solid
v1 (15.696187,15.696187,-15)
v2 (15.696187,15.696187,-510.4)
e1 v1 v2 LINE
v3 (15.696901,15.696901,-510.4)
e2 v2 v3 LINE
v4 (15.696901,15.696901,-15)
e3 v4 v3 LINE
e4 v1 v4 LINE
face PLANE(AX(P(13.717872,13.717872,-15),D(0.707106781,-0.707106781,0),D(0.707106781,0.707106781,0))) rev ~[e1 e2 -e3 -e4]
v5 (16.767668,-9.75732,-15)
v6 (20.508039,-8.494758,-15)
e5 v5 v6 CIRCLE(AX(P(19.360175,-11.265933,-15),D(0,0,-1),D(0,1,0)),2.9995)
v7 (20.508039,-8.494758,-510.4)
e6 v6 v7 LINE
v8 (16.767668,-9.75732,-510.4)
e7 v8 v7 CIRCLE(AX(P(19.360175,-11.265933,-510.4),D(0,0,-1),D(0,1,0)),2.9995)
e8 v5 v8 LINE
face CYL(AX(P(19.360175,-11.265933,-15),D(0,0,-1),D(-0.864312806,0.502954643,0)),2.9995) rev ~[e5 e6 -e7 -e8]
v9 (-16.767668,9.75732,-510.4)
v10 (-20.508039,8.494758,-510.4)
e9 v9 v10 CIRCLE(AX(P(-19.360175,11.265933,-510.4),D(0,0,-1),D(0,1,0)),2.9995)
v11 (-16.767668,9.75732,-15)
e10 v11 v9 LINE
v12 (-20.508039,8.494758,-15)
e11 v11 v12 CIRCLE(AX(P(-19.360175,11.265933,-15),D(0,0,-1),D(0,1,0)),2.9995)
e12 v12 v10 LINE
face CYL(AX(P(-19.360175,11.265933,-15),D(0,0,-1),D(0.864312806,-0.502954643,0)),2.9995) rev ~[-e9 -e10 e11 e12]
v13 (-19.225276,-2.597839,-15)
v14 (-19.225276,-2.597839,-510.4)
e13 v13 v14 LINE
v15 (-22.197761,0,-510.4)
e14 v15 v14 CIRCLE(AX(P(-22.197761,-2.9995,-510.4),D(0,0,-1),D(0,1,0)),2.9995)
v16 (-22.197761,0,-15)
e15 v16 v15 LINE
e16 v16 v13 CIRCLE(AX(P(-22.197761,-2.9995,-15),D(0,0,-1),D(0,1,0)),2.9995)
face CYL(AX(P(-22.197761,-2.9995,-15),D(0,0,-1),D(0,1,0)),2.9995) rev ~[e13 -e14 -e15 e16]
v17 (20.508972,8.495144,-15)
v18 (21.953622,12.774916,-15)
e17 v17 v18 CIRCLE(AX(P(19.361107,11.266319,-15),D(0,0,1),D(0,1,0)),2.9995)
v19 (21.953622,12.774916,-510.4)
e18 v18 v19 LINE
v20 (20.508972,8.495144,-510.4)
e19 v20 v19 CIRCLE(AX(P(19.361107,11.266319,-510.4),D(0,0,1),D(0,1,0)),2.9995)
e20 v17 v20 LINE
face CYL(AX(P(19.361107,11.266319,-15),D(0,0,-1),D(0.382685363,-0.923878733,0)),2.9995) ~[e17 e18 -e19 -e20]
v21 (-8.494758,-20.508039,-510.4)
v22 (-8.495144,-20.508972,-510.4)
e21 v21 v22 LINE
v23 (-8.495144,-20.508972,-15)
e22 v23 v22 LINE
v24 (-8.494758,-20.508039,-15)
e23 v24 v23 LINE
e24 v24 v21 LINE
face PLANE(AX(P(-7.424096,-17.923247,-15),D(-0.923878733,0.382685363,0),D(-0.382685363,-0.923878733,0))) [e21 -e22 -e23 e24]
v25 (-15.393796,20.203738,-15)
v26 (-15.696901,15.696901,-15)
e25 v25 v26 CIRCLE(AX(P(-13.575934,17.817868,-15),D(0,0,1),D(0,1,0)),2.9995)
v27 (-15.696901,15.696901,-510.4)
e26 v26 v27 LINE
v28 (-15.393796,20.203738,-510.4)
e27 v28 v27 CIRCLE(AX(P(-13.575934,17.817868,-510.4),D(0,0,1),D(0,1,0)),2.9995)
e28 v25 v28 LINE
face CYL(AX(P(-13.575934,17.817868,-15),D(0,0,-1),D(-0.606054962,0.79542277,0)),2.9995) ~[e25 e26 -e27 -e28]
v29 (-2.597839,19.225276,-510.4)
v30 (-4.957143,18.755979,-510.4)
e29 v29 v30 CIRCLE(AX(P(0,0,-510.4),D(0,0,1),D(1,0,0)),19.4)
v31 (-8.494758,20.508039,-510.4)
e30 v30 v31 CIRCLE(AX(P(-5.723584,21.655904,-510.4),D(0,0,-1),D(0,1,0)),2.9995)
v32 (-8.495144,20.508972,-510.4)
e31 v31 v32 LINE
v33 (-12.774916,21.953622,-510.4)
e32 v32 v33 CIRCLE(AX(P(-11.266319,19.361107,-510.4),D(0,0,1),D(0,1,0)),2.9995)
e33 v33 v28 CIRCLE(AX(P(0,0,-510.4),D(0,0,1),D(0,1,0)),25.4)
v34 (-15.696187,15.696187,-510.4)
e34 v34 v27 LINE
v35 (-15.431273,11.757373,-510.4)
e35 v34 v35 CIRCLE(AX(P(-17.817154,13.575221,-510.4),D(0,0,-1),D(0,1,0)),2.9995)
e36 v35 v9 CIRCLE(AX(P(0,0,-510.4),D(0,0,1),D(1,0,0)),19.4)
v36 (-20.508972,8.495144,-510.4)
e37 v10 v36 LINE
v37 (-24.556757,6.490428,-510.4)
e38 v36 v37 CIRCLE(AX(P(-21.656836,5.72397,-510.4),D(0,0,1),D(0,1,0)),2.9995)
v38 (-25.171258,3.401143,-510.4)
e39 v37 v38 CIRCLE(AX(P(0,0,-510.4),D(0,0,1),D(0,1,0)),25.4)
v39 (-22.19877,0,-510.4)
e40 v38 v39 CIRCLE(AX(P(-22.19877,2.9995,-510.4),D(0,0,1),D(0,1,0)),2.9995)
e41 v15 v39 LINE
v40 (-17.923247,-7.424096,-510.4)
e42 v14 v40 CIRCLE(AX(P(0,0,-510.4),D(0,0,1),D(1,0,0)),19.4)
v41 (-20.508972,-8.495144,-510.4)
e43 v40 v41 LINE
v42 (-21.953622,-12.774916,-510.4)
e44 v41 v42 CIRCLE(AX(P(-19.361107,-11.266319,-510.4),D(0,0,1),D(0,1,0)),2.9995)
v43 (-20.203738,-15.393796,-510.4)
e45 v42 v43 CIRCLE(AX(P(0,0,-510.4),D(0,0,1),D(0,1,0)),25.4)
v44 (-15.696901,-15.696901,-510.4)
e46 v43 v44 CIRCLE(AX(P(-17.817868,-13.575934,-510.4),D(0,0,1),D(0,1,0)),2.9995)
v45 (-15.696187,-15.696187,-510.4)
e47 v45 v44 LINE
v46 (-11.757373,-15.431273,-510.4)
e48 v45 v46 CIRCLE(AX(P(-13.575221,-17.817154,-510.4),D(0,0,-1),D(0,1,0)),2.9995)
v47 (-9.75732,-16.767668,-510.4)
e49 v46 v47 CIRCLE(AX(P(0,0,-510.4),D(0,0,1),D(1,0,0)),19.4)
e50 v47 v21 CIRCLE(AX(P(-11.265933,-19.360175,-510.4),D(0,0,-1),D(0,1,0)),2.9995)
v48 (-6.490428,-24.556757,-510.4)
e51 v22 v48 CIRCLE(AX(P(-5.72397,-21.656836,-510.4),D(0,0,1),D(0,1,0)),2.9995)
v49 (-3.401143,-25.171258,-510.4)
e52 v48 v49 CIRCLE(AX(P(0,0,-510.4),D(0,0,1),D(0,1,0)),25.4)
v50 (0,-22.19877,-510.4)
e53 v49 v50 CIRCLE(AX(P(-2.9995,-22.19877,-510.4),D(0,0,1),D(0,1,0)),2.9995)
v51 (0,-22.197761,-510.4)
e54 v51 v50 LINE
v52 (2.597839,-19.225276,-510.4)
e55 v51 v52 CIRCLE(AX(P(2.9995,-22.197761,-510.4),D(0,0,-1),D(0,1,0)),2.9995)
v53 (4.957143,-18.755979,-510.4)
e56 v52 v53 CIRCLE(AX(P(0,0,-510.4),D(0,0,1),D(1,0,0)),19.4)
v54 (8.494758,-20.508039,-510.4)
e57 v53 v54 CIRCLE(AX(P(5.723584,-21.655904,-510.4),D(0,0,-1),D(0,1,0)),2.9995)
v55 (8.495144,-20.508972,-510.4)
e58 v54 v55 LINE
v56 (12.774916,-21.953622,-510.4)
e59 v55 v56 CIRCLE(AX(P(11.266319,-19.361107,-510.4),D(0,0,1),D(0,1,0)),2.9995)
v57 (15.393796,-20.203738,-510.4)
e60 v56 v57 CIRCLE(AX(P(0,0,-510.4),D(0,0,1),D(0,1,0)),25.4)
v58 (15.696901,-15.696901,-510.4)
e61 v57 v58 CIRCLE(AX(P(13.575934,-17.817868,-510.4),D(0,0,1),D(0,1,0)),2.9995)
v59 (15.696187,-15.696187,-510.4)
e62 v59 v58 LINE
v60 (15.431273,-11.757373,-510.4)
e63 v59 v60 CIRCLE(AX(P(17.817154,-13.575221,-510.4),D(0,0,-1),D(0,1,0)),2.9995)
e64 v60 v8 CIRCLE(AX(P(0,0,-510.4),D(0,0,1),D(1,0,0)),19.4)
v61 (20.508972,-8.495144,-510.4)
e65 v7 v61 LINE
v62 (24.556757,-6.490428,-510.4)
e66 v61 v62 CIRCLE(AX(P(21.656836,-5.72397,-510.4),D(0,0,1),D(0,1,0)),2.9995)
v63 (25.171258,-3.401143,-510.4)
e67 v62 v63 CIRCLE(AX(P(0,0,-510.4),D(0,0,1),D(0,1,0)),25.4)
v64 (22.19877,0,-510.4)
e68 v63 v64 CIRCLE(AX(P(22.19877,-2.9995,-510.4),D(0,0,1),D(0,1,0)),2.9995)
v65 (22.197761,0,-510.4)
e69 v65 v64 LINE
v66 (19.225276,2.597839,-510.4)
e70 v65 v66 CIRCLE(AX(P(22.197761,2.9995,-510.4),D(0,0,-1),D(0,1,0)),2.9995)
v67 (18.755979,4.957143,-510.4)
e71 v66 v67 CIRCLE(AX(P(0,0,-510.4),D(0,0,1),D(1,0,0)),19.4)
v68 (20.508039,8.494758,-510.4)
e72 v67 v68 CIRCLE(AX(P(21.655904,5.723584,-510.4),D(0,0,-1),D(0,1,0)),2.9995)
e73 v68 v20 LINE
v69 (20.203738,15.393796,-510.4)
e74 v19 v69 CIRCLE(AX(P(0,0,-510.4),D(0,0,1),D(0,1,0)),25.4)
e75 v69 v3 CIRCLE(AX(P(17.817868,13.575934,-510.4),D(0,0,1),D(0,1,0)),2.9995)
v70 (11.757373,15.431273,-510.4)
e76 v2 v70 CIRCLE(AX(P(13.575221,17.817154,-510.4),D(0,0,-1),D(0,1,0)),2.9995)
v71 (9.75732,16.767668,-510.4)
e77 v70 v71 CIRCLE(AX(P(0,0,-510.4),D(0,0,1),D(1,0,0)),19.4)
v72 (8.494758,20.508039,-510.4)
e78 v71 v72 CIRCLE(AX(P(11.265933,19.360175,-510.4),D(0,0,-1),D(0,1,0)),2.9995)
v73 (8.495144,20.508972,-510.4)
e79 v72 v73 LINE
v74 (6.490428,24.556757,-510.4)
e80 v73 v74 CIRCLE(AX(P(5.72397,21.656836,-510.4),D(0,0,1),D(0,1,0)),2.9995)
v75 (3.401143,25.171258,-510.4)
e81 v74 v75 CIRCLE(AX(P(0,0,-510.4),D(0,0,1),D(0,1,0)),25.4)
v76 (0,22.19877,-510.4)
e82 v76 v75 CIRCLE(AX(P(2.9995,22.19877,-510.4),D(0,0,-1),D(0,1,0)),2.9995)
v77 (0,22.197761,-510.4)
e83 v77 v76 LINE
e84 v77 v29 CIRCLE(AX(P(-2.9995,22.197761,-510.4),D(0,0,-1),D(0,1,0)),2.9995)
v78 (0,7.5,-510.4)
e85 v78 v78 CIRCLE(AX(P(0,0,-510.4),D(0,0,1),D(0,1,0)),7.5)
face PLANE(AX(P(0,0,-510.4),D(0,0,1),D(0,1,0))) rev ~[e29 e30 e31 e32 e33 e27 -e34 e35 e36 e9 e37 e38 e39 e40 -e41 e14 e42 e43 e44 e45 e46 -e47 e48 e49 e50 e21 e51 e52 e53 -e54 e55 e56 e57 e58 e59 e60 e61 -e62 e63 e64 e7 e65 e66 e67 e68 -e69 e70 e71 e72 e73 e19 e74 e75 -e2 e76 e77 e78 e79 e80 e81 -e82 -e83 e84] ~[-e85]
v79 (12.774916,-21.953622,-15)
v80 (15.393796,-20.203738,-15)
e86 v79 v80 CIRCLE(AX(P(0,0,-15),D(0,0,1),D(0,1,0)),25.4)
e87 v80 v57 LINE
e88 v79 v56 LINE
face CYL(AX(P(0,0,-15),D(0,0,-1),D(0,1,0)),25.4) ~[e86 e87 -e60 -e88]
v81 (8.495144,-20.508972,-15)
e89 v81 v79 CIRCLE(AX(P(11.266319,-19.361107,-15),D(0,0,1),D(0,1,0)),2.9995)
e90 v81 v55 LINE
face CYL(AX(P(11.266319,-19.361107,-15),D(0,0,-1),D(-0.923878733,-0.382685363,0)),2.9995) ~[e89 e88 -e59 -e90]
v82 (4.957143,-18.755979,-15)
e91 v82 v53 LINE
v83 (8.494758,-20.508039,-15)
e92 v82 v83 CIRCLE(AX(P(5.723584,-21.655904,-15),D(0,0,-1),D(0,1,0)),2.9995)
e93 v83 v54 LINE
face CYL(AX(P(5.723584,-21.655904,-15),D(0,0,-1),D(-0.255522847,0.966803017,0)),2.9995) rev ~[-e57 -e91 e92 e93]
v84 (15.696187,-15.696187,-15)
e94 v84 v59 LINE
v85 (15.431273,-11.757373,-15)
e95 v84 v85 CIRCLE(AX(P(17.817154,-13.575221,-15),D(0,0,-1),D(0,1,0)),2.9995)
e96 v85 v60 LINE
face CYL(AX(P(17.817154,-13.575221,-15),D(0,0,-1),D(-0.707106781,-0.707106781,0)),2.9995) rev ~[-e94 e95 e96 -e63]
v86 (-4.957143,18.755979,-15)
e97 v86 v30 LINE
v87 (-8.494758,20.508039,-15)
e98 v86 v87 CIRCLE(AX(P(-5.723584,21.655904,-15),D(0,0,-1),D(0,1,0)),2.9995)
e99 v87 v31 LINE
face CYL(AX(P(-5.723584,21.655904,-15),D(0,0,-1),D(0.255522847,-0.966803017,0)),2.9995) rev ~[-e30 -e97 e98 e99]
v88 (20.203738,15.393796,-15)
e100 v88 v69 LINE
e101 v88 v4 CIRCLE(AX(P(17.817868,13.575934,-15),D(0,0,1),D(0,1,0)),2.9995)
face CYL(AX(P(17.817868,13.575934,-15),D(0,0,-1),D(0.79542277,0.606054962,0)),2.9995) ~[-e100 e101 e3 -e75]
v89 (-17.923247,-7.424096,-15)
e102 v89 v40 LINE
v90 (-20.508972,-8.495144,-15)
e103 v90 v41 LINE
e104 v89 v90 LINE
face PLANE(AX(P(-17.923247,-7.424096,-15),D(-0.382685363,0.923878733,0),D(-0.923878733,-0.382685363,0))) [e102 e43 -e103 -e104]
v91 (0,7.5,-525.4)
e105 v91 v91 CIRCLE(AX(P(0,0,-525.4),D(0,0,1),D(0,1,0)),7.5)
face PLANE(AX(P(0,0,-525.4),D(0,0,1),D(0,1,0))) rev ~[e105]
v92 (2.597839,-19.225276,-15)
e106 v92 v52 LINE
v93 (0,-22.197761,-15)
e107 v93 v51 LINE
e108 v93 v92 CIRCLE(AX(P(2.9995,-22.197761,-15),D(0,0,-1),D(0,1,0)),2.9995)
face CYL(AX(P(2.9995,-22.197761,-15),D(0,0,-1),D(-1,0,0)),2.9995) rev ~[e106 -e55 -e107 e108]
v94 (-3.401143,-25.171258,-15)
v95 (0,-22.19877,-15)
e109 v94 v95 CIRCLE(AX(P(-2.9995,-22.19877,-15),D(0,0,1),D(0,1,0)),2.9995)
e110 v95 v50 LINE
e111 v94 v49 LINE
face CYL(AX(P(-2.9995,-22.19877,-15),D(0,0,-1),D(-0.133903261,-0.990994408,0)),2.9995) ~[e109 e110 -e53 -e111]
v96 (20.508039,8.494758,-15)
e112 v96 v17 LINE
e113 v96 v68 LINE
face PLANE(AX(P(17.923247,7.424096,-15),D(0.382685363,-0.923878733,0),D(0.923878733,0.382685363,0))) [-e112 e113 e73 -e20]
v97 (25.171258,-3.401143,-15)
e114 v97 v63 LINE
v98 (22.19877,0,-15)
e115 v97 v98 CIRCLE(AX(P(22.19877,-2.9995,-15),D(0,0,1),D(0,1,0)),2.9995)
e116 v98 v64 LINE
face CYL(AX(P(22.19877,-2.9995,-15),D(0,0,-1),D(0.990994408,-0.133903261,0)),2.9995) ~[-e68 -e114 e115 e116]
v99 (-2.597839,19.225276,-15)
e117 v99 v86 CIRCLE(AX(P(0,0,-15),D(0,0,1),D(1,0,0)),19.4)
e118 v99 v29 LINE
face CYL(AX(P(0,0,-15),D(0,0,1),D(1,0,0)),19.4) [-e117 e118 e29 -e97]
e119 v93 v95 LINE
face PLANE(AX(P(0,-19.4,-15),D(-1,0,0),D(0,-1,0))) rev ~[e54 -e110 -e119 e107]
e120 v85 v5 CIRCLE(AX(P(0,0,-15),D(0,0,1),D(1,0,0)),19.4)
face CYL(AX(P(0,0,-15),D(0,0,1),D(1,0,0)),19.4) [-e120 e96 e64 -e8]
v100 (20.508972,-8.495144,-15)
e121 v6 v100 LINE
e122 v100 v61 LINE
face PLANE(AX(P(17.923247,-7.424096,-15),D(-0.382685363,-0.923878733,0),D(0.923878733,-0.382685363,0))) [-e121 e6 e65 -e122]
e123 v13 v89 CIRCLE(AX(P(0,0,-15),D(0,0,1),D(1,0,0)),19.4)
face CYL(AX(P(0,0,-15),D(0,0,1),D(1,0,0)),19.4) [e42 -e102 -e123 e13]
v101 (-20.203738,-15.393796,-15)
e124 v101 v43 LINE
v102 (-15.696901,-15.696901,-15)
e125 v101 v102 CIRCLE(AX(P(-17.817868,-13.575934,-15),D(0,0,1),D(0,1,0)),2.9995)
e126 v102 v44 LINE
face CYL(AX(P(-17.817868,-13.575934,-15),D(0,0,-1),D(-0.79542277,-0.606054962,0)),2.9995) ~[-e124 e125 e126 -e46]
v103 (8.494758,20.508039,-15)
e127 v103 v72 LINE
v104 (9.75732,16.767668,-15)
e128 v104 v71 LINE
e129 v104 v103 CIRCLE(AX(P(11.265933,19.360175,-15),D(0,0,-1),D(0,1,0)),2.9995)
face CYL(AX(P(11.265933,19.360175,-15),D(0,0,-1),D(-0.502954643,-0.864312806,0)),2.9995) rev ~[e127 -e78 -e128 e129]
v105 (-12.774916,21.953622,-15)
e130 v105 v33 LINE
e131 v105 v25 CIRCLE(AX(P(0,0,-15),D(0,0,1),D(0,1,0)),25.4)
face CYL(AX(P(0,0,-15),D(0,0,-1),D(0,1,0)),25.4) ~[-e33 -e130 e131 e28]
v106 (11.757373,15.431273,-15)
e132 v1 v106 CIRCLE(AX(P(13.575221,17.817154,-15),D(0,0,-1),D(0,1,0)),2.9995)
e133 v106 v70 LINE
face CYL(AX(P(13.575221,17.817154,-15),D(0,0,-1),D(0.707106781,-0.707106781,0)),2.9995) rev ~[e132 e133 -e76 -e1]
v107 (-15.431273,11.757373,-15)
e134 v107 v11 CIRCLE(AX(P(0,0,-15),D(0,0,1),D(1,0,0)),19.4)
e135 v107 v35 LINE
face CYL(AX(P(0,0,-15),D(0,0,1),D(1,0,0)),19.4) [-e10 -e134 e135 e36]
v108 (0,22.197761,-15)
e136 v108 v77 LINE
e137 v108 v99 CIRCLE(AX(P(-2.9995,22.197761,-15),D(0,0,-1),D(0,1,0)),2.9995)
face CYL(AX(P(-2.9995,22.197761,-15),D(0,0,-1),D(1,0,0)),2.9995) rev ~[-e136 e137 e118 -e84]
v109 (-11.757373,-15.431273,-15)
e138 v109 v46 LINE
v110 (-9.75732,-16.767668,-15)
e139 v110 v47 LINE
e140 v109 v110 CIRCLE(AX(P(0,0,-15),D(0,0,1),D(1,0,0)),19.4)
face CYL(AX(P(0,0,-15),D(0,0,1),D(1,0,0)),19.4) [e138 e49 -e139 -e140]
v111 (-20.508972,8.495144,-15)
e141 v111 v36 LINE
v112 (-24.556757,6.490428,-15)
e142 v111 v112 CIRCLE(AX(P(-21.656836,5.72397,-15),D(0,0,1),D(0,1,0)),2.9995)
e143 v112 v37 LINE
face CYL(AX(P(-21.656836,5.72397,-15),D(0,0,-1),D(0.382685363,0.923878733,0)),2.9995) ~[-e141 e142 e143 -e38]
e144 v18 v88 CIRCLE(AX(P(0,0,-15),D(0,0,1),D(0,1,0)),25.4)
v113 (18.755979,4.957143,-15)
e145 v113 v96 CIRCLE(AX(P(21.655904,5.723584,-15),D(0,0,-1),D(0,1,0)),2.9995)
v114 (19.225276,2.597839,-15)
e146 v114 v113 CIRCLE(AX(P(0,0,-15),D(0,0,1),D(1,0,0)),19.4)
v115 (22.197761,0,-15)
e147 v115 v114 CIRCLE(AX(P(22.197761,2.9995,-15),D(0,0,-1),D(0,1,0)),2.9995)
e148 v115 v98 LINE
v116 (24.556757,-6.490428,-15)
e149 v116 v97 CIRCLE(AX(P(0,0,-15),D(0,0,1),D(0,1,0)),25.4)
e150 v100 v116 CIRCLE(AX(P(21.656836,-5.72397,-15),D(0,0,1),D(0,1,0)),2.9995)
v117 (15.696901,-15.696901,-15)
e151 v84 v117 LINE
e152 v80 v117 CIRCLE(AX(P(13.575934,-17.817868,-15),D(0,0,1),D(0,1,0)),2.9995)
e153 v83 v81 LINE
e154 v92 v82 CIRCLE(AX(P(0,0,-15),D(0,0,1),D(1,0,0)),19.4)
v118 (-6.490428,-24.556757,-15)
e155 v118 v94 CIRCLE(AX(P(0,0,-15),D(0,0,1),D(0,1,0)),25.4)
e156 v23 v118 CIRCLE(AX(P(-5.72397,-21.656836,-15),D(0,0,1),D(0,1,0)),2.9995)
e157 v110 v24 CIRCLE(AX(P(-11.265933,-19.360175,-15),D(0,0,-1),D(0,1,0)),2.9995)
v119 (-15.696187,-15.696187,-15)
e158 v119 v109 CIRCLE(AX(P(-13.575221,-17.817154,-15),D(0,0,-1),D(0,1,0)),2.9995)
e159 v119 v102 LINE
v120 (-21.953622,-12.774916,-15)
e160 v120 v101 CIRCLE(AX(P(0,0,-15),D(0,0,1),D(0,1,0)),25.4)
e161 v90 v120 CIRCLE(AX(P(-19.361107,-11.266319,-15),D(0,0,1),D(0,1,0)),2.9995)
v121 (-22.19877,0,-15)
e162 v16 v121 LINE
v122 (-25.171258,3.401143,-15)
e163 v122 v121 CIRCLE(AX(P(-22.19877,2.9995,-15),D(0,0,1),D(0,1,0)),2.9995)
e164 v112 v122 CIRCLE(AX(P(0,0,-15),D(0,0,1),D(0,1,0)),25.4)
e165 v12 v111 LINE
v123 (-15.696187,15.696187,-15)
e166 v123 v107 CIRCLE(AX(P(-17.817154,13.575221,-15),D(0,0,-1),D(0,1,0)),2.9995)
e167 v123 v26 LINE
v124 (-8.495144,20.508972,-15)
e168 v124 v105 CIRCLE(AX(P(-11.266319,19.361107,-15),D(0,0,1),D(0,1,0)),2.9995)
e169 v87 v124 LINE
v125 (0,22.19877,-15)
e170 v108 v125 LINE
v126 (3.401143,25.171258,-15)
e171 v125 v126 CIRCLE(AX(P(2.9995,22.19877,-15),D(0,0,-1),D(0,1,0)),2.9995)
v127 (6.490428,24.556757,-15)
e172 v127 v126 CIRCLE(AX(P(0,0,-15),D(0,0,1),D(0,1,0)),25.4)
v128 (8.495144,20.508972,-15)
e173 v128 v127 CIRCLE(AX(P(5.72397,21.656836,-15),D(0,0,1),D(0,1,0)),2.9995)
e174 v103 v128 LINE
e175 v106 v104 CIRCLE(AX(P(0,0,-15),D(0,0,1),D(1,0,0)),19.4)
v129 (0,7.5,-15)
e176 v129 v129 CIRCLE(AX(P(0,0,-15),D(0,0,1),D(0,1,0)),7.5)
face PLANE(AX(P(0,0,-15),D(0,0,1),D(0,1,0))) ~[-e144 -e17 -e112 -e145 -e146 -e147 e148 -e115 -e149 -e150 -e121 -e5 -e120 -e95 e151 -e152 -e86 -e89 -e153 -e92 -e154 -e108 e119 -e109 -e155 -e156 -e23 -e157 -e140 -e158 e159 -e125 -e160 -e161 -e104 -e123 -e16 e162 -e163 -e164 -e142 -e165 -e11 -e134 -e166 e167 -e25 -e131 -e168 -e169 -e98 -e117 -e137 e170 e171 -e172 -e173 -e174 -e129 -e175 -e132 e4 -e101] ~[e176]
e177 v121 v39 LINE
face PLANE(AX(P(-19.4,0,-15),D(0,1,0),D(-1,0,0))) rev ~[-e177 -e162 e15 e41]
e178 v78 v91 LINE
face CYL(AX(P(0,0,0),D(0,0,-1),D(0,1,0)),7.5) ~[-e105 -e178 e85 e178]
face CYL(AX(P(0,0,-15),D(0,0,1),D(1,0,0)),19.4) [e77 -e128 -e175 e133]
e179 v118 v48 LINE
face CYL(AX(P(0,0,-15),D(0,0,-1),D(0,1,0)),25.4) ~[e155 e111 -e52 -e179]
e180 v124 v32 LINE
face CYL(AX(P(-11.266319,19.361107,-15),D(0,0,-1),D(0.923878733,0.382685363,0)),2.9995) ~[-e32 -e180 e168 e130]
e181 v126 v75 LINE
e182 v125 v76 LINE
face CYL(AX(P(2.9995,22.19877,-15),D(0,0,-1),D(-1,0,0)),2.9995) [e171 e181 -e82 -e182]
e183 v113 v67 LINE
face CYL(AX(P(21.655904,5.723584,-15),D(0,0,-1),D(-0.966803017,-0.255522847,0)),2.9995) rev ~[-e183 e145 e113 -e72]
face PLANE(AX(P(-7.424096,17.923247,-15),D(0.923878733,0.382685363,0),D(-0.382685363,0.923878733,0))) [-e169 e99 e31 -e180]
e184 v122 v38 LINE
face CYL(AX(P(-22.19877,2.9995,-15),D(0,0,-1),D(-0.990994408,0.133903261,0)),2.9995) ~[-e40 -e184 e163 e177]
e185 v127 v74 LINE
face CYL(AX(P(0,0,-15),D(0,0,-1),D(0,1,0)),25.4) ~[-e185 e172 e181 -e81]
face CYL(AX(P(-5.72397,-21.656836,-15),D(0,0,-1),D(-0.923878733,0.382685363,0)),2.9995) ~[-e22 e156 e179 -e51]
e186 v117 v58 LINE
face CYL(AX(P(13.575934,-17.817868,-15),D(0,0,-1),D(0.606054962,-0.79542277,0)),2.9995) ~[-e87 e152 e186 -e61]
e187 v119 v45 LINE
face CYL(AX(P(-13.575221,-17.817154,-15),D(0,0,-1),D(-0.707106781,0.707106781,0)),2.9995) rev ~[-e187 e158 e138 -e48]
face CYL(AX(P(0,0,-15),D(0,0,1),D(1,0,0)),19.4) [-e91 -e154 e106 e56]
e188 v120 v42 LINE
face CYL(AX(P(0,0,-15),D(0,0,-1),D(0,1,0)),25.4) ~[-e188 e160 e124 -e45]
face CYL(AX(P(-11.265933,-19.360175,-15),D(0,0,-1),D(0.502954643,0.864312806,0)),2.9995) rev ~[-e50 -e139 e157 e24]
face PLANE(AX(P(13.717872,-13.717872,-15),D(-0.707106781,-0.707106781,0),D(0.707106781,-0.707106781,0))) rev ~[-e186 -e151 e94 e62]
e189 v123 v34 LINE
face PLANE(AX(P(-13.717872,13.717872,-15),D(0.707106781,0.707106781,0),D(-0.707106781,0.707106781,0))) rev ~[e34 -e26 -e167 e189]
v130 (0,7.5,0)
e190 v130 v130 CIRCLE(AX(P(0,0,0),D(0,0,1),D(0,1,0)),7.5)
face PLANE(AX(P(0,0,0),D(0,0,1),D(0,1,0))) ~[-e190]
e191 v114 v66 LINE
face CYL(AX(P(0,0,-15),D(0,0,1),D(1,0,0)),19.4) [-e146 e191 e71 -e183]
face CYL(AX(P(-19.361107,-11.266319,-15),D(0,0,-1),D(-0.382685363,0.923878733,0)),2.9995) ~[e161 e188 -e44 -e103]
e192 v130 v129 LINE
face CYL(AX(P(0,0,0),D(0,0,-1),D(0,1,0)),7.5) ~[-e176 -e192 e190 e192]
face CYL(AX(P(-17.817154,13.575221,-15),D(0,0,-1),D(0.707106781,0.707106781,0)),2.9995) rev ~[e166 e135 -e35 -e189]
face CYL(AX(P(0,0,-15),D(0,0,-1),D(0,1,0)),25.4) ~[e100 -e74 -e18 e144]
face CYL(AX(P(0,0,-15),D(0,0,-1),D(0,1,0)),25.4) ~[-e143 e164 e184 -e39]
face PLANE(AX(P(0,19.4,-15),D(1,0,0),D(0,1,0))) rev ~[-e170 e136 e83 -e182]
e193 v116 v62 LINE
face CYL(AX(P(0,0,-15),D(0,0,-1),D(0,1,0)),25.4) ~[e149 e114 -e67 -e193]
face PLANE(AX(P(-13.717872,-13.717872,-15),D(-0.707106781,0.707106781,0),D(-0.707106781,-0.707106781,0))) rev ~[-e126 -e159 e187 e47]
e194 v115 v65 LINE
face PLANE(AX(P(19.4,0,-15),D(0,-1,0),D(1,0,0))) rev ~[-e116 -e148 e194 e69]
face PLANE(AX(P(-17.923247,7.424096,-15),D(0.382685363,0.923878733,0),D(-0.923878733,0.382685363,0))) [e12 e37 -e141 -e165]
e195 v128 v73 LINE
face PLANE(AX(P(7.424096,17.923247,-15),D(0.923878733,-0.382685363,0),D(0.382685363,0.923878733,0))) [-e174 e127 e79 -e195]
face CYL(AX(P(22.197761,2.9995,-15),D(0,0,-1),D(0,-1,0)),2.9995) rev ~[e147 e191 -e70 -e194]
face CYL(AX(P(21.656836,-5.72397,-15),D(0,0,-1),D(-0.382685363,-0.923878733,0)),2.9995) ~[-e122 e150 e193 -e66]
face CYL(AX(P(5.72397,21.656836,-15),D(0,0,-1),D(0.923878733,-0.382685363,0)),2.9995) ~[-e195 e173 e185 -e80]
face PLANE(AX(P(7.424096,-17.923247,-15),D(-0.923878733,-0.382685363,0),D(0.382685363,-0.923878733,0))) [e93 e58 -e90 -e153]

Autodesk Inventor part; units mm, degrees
ref_plane "YZ Plane" through (0, 0, 0) normal (1, 0, 0) x (0, 1, 0)
ref_plane "XZ Plane" through (0, 0, 0) normal (0, 1, 0) x (-1, 0, 0)
ref_plane "XY Plane" through (0, 0, 0) normal (0, 0, 1) x (1, 0, 0)
sketch "Esboço1" plane through (0, 0, 0) normal (1, 0, 0) x (0, 1, 0)
  line L0 (0, 0) -> (0, -525.4)
  line L1 (0, 0) -> (7.5, 0)
  line L2 (7.5, 0) -> (7.5, -525.4)
  line L3 (7.5, -525.4) -> (0, -525.4)
  line L4 (0, -525.4) -> (0, 0)
  line L5 (7.5, -15) -> (25.4, -15)
  line L6 (25.4, -15) -> (25.4, -510.4)
  line L7 (25.4, -510.4) -> (7.5, -510.4)
  line L8 (7.5, -510.4) -> (7.5, -15)
  point P0 (3.75, 0)
  point P1 (3.75, -525.4)
  point P2 (7.5, -510.4)
  dimension "d0" = 525.4
  dimension "d1" = 7.5
  dimension "d2" = 25.4
  dimension "d3" = 15
  dimension "d4" = 15
revolve "Revolução1" add sketch "Esboço1" angle 360 about axis through (0, 0, -525.4) along (0, 0, 1)
thread "Rosca1" size "M1060x8" class "6g" standard "ANSI Metric M Profile" length 495.4
sketch "Esboço2" plane through (0, 0, -15) normal (0, 0, 1) x (1, 0, 0)
  circle A0 centre (0, 0) radius 7.5 projected
  circle A1 centre (0, 0) radius 25.4 projected
  circle A2 centre (0, 0) radius 7.5 projected
  line L0 (0, 0) -> (0, 25.4)
  line L1 (0, 0) -> (-25.4, 0)
  line L2 (0, 0) -> (0, -25.4)
  line L3 (0, 0) -> (25.4, 0)
  line L4 (0, 0) -> (17.9605, 17.9605)
  line L5 (0, 0) -> (9.7202, 23.4665)
  line L6 (0, 0) -> (23.4665, 9.7202)
  line L7 (0, 0) -> (-17.9605, 17.9605)
  line L8 (0, 0) -> (-9.7202, 23.4665)
  line L9 (0, 0) -> (-23.4665, 9.7202)
  line L10 (0, 0) -> (17.9605, -17.9605)
  line L11 (0, 0) -> (9.7202, -23.4665)
  line L12 (0, 0) -> (23.4665, -9.7202)
  line L13 (0, 0) -> (-9.7202, -23.4665)
  line L14 (0, 0) -> (-17.9605, -17.9605)
  line L15 (0, 0) -> (-23.4665, -9.7202)
  circle A3 centre (0, 0) radius 19.4
  point P0 (-17.9233, 7.4241)
  point P1 (-13.7179, 13.7179)
  point P2 (-17.9233, -7.4241)
  point P3 (-19.4, 0)
  point P4 (-7.4241, -17.9233)
  point P5 (-13.7179, -13.7179)
  point P6 (7.4241, -17.9233)
  point P7 (0, -19.4)
  point P8 (17.9233, -7.4241)
  point P9 (13.7179, -13.7179)
  point P10 (17.9233, 7.4241)
  point P11 (19.4, 0)
  point P12 (7.4241, 17.9233)
  point P13 (13.7179, 13.7179)
  point P14 (-7.4241, 17.9233)
  point P15 (0, 19.4)
  dimension "d8" = 22.5
  dimension "d9" = 22.5
  dimension "d10" = 45
  dimension "d11" = 6
extrude "Extrusão1" cut sketch "Esboço2" against normal up to surface (495.4 mm away) contours A3 L6 A1 L3 | L12 A1 L10 A3 | A3 L5 A1 L4 | A3 L8 A1 L0 | A3 L15 A1 L1 | A3 L11 A1 L2 | A3 L9 A1 L7 | L13 A1 L14 A3
fillet "Arredondamento1" radius 3 31 edges at (7.4241, 17.9233, -262.7) (13.7179, 13.7179, -262.7) (17.9605, 17.9605, -262.7) (9.7202, 23.4665, -262.7) (0, 25.4, -262.7) (0, 19.4, -262.7) (-9.7202, 23.4665, -262.7) (-7.4241, 17.9233, -262.7) (-23.4665, 9.7202, -262.7) (-17.9605, 17.9605, -262.7) (-17.9233, 7.4241, -262.7) (-13.7179, 13.7179, -262.7) (19.4, 0, -262.7) (17.9233, 7.4241, -262.7) (23.4665, 9.7202, -262.7) (25.4, 0, -262.7) (23.4665, -9.7202, -262.7) (17.9233, -7.4241, -262.7) (17.9605, -17.9605, -262.7) (13.7179, -13.7179, -262.7) (7.4241, -17.9233, -262.7) (9.7202, -23.4665, -262.7) (0, -19.4, -262.7) (-9.7202, -23.4665, -262.7) (-7.4241, -17.9233, -262.7) (-13.7179, -13.7179, -262.7) (-23.4665, -9.7202, -262.7) (-17.9605, -17.9605, -262.7) (-19.4, 0, -262.7) (-25.4, 0, -262.7) (0, -25.4, -262.7)
equation "\"d9\" = d8"
properties part number "Coletor - Intake"
